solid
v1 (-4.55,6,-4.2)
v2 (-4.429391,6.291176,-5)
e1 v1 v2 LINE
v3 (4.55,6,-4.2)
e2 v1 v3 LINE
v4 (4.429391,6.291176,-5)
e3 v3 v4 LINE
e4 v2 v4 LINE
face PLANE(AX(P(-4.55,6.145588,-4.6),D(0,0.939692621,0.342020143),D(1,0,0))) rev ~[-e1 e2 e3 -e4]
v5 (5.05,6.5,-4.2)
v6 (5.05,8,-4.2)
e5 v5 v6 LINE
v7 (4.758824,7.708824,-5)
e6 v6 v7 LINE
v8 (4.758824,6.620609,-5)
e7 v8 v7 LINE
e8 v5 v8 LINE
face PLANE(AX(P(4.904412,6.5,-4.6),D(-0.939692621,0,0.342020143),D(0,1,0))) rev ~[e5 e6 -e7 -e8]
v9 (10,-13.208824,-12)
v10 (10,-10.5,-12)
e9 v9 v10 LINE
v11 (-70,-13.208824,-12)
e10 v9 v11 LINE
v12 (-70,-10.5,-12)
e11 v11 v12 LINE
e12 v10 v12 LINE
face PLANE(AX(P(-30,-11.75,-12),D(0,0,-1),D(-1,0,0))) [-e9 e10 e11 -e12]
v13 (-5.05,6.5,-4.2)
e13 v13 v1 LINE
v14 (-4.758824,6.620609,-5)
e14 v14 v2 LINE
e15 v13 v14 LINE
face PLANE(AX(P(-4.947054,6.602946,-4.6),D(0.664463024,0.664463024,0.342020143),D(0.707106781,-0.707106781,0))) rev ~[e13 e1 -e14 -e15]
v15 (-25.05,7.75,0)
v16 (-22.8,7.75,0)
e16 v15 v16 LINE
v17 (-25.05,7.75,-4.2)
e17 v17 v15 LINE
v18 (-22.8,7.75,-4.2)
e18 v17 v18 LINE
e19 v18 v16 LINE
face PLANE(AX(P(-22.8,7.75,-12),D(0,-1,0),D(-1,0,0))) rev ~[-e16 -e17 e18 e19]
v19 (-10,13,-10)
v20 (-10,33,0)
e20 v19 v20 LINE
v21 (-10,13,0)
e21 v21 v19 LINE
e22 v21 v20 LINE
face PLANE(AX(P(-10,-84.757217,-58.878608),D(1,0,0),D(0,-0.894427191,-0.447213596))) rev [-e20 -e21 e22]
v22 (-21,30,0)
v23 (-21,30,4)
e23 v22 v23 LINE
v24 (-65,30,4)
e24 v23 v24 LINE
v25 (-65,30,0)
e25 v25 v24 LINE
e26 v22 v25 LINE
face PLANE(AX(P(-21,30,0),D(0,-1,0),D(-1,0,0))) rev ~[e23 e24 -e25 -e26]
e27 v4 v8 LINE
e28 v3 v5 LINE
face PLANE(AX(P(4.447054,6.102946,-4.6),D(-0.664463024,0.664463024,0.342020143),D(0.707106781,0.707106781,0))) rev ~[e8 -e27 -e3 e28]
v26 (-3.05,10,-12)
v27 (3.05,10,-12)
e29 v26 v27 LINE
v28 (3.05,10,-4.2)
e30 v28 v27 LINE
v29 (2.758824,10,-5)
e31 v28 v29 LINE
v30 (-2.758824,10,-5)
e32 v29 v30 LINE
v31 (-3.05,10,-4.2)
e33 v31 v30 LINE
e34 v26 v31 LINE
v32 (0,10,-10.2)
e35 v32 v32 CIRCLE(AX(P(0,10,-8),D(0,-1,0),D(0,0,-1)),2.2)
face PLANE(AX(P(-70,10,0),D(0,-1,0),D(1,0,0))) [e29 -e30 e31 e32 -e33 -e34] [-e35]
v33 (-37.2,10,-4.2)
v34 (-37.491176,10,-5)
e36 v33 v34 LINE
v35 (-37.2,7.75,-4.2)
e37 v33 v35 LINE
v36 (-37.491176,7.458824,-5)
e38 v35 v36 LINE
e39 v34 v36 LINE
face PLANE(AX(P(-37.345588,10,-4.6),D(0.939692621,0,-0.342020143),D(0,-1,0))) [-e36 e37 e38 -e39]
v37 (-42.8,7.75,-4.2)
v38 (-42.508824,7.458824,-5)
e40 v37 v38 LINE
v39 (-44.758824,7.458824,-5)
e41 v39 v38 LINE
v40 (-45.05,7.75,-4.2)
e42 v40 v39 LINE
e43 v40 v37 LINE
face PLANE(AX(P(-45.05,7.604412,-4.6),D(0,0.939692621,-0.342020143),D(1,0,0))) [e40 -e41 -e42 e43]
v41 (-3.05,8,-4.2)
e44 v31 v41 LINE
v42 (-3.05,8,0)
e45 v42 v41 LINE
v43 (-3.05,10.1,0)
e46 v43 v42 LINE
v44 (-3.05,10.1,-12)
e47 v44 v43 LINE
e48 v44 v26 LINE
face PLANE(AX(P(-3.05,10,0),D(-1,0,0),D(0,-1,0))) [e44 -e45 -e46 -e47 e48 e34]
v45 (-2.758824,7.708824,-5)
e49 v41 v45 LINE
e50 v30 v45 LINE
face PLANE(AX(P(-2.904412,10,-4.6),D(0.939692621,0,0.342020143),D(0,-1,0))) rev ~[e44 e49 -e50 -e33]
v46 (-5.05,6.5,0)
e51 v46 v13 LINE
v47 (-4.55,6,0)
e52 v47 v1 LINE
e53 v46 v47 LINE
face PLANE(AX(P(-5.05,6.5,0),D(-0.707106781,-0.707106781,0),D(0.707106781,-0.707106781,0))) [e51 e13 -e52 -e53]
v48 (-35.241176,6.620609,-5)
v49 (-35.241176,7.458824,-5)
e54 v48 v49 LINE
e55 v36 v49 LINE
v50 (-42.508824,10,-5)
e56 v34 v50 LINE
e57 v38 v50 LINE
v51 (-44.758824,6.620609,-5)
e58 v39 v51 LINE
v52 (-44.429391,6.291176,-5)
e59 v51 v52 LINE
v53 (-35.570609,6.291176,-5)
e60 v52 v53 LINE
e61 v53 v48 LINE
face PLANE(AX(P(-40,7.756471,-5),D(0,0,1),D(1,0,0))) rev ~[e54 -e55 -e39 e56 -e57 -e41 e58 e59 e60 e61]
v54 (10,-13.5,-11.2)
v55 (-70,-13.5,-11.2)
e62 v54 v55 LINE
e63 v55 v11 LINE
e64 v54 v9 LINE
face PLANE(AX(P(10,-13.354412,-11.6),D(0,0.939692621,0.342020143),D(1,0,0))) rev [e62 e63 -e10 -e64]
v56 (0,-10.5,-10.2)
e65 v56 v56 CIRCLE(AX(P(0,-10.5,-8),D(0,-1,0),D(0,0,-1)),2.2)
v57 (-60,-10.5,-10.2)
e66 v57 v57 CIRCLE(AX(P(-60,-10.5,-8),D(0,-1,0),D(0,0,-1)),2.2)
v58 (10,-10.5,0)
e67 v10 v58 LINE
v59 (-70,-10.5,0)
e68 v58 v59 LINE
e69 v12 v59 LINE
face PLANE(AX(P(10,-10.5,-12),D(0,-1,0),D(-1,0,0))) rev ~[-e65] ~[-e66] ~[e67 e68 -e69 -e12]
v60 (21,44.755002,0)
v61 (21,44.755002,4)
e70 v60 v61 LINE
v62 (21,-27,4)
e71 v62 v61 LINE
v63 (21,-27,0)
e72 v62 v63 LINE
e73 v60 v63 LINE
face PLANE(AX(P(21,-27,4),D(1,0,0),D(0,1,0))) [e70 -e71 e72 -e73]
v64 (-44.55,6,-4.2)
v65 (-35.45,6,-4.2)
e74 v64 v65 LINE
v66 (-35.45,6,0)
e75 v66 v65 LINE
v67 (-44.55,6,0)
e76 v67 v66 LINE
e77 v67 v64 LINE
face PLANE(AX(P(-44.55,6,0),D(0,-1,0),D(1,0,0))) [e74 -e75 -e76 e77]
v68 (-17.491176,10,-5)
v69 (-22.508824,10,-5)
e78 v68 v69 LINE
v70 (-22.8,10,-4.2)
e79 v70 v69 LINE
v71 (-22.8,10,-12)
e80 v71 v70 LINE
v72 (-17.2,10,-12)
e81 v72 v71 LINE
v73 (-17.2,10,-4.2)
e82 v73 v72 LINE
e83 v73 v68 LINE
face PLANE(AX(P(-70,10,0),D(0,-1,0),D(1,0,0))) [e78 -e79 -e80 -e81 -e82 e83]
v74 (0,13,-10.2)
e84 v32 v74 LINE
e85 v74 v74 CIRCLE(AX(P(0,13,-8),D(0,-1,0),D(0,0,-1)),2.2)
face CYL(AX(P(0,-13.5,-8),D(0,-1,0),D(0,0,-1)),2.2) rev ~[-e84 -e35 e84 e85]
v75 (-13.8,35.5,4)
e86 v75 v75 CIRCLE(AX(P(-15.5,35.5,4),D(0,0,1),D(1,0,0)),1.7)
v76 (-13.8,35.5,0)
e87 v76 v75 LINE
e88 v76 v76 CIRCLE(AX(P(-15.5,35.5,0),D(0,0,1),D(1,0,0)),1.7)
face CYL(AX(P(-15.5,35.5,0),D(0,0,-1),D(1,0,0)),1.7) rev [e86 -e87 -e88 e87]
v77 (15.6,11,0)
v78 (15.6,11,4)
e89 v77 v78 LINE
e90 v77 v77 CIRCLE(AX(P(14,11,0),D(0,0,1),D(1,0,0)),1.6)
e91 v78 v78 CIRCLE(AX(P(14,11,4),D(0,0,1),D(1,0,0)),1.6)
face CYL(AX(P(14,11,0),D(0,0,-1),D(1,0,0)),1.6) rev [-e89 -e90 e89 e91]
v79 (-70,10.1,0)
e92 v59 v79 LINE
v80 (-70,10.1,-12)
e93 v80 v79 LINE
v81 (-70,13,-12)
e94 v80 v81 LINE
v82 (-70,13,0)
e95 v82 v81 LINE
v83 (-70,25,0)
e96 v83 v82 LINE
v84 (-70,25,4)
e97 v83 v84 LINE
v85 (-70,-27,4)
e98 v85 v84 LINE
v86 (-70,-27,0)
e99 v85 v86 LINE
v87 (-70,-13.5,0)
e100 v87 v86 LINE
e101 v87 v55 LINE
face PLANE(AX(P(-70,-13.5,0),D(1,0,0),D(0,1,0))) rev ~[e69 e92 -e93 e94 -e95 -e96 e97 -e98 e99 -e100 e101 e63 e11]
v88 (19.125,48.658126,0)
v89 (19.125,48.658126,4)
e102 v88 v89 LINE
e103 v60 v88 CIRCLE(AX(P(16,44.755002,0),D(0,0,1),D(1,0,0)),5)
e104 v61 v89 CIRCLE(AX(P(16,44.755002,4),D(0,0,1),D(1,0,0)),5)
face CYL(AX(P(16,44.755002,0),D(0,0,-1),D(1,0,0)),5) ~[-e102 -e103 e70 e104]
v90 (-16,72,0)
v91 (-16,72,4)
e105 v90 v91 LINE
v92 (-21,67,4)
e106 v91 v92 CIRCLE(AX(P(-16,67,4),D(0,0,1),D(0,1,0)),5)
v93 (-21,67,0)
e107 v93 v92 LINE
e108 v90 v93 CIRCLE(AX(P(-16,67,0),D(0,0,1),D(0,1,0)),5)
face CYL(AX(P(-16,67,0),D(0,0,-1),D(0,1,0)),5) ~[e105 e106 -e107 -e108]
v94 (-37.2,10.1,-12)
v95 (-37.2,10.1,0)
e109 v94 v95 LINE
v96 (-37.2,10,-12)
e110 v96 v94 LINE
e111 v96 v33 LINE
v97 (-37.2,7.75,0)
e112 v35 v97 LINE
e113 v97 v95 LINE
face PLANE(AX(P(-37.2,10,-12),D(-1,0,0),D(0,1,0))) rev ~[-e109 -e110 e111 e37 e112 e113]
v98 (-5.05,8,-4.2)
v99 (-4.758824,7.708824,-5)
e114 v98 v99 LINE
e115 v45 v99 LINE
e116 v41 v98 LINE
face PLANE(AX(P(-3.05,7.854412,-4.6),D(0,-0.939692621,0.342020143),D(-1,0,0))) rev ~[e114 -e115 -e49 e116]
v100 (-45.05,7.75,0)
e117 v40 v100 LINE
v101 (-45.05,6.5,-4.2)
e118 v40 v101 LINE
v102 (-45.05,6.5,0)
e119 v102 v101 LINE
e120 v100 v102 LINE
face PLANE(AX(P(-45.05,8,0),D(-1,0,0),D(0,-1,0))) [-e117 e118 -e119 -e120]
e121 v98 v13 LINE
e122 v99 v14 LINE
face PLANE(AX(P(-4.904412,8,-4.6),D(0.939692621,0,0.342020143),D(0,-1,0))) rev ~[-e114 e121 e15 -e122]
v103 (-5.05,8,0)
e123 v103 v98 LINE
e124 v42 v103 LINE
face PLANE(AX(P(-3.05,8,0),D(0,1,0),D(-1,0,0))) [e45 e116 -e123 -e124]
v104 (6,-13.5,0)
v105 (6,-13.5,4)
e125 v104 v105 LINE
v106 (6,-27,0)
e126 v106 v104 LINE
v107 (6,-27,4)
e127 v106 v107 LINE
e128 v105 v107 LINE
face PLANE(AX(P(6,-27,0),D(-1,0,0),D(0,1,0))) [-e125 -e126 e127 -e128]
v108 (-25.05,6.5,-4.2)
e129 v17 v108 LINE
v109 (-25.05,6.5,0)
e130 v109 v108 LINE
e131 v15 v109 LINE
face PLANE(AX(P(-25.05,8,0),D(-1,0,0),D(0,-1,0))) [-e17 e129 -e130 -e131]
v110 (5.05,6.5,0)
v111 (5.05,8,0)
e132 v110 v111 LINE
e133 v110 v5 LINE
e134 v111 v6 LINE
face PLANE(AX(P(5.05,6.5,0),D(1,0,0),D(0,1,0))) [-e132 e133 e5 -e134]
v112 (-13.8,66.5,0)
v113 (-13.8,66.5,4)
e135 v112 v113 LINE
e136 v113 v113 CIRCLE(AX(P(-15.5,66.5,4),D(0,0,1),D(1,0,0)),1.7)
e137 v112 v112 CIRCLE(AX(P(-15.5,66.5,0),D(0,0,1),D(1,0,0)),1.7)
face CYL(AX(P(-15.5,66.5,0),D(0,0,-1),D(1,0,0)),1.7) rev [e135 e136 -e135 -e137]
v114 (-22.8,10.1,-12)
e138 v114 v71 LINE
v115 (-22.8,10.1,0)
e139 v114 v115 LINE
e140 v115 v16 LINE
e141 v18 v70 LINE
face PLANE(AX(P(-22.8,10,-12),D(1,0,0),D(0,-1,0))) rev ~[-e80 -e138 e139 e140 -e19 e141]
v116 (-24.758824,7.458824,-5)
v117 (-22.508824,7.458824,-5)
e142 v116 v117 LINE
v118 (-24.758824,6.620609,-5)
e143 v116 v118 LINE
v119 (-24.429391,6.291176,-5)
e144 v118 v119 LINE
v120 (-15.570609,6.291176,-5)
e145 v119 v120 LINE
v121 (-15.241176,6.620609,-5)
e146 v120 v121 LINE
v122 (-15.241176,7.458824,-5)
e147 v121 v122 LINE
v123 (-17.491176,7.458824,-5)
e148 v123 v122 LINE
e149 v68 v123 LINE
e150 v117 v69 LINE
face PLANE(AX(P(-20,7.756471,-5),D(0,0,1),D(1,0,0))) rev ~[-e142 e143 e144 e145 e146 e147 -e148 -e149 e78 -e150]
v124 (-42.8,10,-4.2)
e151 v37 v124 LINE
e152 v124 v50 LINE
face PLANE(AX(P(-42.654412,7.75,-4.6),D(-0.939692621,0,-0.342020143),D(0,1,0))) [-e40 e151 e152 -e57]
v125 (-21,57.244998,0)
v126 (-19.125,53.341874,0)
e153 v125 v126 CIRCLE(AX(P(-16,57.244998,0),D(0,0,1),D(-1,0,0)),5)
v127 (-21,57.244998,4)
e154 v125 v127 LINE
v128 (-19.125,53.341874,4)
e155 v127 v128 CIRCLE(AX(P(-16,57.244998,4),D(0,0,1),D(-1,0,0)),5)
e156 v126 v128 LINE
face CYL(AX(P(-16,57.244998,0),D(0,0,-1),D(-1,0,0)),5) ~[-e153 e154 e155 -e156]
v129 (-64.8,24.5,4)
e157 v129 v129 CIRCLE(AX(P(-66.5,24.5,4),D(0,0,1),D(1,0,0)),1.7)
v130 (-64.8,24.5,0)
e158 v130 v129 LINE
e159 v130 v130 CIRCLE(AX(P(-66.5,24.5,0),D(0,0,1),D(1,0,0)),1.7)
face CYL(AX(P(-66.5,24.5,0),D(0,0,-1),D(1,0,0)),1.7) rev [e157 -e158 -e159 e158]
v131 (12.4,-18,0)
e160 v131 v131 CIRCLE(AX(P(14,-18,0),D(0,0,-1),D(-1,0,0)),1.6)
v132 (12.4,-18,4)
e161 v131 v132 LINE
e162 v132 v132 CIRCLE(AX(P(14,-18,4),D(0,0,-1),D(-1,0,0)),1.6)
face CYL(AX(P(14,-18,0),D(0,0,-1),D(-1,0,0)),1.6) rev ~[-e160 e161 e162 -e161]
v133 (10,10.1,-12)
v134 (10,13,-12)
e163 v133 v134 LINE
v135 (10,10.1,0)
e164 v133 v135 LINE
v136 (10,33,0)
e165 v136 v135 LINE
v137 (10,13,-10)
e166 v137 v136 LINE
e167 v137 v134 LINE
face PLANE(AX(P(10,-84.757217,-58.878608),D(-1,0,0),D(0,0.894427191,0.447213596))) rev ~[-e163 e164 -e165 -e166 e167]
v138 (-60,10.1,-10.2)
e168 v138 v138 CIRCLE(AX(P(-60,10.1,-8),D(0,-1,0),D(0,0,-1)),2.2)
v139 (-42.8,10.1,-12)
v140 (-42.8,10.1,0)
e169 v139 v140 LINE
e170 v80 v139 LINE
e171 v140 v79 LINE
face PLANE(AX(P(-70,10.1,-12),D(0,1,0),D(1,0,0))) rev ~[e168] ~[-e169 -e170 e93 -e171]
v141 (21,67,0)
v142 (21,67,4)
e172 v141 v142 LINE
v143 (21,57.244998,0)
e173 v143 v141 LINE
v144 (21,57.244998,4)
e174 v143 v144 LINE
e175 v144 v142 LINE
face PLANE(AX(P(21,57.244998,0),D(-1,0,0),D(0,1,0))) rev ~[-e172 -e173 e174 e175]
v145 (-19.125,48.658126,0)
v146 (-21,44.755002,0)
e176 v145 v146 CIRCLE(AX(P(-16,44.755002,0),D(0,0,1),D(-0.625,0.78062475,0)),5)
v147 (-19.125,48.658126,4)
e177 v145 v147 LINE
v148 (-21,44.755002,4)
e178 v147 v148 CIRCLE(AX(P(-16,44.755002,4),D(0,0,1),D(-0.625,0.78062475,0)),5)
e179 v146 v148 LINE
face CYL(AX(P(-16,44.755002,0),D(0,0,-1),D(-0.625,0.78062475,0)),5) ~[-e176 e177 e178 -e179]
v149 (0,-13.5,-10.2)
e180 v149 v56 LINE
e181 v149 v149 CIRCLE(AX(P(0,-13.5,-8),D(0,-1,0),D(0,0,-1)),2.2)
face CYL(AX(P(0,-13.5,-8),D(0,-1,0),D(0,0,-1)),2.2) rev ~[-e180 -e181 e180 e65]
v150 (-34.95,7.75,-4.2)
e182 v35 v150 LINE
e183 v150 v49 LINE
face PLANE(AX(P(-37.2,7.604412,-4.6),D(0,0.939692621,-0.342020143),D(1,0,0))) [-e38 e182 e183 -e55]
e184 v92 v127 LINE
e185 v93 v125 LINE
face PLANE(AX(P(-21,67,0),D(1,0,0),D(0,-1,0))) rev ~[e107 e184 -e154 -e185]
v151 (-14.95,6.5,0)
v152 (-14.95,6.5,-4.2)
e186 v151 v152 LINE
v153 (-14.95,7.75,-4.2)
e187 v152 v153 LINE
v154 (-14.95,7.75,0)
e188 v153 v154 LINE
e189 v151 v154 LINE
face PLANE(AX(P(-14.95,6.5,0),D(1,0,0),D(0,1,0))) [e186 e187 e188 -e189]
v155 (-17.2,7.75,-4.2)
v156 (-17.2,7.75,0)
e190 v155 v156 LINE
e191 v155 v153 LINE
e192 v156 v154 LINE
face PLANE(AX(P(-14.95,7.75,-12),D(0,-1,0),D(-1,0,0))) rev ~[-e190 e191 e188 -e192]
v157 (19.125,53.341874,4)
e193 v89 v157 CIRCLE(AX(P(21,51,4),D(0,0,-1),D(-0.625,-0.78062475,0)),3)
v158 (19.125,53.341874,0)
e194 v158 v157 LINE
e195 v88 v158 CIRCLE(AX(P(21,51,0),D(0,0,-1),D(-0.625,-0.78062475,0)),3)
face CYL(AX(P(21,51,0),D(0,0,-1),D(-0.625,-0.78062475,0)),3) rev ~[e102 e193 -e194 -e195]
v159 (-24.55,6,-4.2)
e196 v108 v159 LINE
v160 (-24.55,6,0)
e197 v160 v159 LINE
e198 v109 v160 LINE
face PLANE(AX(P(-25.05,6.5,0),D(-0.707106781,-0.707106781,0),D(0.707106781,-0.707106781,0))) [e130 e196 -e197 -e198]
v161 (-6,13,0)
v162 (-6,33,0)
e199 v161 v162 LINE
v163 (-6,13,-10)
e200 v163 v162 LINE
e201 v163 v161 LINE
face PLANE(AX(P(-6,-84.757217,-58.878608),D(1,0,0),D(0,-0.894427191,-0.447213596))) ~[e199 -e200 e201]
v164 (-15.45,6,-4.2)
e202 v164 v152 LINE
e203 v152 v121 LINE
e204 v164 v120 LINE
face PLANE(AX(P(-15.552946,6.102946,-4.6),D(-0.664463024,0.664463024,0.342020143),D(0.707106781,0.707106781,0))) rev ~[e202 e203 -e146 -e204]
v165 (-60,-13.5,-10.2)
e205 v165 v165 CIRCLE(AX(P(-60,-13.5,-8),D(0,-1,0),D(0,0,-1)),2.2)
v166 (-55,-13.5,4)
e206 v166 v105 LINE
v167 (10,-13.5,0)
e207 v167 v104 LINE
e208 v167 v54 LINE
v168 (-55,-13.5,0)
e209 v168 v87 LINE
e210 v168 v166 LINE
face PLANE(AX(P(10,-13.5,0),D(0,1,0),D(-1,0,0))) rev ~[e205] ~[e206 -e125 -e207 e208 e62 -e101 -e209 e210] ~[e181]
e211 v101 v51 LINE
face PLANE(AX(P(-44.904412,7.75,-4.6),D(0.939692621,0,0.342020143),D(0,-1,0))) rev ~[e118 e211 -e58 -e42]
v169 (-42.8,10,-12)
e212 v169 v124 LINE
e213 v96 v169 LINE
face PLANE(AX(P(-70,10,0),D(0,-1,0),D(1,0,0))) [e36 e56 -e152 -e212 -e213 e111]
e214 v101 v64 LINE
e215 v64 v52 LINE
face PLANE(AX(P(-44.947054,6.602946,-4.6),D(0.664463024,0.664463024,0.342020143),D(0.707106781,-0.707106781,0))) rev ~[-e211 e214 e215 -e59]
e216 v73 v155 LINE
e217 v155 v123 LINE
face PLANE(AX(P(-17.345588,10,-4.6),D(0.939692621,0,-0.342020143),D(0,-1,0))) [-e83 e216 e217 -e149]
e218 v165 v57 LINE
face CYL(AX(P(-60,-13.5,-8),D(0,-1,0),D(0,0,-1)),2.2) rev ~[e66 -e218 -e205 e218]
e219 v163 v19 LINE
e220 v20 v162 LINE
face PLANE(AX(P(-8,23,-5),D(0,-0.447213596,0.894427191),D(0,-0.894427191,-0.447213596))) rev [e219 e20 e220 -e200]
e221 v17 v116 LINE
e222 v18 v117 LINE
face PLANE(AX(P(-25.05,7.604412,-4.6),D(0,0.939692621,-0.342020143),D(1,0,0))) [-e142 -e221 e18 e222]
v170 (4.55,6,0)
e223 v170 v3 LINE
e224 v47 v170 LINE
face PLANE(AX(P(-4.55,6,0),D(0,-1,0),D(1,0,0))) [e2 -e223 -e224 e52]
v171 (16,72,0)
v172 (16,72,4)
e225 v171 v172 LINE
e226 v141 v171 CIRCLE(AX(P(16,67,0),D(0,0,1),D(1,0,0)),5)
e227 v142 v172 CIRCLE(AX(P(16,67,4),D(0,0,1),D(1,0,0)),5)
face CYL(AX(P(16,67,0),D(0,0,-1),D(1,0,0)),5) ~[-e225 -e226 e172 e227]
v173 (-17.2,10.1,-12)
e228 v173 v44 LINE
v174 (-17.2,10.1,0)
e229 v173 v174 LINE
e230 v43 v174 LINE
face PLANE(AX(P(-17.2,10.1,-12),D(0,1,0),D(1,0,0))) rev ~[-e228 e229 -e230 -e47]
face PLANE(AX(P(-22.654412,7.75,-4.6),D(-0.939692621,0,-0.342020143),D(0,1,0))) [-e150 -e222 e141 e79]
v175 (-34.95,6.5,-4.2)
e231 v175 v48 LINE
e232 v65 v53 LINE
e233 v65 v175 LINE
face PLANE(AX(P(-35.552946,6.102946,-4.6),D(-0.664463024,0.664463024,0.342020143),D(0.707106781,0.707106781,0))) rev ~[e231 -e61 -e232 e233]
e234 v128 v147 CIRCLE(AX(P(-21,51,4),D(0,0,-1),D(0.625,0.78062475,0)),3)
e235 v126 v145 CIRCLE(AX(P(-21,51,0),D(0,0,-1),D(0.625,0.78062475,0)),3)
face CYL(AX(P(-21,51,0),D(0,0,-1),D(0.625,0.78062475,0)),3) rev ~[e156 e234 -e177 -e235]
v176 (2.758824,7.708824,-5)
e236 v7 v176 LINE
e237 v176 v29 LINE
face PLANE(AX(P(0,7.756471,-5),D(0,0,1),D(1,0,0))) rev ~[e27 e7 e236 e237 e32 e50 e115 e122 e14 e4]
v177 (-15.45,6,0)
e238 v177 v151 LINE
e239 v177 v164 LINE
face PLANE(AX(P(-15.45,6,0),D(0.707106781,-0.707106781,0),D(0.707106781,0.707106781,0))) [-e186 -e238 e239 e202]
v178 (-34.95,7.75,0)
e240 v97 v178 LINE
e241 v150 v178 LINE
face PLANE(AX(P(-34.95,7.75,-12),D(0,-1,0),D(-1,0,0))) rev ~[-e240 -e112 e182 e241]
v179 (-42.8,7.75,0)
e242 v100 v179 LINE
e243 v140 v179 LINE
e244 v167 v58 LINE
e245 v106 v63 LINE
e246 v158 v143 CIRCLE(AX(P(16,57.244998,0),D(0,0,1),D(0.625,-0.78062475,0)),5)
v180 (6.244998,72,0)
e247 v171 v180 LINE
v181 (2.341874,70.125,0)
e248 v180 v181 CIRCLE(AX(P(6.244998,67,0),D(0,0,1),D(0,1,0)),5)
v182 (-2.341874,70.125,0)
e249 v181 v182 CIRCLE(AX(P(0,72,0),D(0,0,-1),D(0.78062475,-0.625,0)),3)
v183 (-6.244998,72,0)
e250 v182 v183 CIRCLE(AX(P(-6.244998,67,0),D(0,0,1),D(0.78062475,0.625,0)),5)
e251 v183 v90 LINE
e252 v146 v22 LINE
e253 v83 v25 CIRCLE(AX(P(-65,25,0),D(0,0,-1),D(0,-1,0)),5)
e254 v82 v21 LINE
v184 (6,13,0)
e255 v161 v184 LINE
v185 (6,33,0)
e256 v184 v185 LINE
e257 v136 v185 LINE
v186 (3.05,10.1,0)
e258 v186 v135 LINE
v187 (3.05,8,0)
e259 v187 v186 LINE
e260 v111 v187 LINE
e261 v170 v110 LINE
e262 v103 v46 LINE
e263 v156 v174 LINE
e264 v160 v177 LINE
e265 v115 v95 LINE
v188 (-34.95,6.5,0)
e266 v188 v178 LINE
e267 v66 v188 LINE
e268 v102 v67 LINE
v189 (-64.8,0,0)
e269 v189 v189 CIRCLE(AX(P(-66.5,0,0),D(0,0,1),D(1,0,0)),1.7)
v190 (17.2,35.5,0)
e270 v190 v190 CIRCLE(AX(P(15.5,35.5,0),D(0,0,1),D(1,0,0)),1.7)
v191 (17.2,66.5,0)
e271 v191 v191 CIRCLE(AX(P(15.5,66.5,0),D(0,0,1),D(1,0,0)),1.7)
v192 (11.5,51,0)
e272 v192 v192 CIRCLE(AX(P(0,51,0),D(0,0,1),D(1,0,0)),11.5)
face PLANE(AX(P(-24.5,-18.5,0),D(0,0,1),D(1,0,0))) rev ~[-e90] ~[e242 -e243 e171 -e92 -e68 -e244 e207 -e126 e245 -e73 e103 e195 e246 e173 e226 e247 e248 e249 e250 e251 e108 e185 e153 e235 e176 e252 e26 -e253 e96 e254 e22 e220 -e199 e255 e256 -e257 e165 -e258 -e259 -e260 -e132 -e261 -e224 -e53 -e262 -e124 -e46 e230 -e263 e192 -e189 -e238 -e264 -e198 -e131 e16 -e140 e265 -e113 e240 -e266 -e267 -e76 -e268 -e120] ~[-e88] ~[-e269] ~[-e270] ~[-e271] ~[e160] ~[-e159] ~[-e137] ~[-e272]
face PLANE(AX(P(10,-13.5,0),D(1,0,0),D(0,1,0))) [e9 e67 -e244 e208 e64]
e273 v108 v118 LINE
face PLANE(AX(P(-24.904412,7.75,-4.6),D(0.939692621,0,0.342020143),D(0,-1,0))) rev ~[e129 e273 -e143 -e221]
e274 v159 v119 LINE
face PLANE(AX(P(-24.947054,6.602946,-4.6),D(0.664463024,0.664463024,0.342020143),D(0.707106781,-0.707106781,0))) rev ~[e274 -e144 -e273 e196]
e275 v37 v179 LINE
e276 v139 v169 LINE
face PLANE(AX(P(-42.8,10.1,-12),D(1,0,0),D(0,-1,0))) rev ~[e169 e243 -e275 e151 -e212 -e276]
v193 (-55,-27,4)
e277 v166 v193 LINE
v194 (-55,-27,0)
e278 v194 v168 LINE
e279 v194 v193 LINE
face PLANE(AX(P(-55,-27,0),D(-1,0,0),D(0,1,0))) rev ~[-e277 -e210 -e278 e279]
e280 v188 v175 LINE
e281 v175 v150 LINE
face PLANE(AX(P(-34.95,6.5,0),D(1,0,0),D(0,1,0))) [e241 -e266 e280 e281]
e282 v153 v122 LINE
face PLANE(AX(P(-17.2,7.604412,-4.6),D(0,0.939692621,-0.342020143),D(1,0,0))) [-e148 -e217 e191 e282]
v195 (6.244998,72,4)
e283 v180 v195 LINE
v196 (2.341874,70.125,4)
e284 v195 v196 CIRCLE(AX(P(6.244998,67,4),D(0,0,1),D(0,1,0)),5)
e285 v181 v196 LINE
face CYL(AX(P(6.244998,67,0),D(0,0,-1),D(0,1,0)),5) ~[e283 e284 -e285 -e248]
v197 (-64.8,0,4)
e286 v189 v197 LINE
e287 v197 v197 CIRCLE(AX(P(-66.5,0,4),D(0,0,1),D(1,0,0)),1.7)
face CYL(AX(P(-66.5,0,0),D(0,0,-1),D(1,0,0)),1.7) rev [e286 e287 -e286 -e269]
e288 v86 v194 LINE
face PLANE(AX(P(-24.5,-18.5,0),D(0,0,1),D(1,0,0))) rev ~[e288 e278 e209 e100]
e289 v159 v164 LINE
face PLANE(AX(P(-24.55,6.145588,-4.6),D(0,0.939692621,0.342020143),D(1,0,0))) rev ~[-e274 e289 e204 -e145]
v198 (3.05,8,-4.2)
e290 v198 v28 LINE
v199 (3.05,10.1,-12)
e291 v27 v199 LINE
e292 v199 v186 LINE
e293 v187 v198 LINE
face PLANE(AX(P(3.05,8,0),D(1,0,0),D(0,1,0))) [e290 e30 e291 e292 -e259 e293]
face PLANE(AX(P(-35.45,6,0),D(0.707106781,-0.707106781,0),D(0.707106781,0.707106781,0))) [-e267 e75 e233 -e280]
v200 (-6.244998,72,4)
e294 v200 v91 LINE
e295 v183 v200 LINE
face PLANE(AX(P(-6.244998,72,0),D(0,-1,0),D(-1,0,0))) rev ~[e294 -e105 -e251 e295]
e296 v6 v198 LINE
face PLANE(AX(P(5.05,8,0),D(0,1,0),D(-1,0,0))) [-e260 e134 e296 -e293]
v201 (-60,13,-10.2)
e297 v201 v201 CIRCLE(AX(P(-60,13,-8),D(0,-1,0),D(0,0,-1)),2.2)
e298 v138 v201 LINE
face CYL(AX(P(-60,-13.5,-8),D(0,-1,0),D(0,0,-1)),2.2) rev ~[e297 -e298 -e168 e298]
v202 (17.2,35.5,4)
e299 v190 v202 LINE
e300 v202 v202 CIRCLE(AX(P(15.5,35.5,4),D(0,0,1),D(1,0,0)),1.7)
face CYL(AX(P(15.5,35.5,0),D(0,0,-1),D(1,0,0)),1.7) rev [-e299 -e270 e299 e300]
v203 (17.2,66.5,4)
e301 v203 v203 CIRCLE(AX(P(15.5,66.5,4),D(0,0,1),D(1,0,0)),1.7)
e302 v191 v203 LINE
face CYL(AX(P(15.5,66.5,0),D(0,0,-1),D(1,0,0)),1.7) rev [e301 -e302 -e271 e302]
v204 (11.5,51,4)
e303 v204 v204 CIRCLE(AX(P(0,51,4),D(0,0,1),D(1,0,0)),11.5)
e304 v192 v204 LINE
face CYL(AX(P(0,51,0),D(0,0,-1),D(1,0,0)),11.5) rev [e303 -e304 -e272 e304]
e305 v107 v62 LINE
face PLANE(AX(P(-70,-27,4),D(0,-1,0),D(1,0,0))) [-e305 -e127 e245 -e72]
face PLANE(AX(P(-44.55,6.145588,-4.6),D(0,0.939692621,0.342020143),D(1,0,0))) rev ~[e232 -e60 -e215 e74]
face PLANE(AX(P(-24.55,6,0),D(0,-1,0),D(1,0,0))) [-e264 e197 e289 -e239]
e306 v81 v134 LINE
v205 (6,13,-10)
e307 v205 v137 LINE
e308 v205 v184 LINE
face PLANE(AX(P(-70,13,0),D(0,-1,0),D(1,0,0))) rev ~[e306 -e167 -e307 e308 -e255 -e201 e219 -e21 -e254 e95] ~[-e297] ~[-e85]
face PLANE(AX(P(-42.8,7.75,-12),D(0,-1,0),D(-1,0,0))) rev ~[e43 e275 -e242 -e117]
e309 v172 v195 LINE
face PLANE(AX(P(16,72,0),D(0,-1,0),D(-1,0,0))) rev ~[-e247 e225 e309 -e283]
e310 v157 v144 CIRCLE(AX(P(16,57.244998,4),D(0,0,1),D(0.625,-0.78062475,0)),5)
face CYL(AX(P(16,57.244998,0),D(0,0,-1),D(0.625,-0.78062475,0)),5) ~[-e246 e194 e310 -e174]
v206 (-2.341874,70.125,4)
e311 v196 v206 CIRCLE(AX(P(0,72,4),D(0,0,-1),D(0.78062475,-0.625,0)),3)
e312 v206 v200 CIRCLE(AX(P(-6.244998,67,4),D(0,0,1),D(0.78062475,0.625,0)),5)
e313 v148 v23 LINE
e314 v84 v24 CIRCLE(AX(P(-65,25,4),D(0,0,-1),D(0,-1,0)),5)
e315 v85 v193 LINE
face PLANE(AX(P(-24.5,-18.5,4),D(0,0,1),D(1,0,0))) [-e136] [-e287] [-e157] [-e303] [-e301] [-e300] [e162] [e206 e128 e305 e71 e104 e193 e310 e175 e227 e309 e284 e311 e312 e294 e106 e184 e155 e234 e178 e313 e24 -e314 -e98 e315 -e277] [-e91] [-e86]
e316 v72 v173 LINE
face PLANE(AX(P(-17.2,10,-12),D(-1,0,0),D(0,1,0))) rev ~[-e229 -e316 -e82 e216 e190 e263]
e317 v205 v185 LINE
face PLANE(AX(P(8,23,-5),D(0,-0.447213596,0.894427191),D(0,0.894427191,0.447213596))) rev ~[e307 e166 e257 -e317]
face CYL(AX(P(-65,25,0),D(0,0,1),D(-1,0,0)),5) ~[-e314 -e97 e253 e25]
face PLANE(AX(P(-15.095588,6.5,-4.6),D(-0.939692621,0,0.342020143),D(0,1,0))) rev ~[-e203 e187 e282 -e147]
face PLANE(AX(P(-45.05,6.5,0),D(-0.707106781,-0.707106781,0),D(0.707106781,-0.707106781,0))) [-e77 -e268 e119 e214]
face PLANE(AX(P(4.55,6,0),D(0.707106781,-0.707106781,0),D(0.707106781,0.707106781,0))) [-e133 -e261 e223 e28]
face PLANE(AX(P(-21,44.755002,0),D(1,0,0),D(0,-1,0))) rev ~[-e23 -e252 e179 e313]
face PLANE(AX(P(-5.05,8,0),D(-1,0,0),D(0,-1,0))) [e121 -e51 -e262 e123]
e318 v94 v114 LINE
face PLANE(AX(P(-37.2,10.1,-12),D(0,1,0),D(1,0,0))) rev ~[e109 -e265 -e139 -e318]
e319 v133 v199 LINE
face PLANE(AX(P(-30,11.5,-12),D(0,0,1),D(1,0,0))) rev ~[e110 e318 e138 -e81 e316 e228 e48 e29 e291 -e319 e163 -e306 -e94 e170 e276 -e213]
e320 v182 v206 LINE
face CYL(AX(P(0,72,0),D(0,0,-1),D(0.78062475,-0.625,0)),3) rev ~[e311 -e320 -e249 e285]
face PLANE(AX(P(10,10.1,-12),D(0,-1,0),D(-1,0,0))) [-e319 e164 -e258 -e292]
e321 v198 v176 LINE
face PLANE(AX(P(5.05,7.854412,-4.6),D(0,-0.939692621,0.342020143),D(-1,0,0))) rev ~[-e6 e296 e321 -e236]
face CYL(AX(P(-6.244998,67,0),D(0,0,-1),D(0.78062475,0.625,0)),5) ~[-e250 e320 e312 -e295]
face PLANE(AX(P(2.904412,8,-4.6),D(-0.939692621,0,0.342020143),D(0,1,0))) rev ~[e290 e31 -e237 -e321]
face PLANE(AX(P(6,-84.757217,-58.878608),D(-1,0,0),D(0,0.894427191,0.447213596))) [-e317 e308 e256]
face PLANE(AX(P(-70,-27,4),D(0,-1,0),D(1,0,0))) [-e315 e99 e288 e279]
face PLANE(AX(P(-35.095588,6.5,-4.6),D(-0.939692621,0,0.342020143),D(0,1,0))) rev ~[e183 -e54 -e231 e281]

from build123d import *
from OCP.BRepFilletAPI import BRepFilletAPI_MakeChamfer

# Parameters (mm, degrees)
SKETCH_1_R          = 1.7
SKETCH_1_R_2        = 1.6
SKETCH_1_R_3        = 11.5
EXTRUDE_1_DEPTH     = 4
SKETCH_1_4_W        = 80
SKETCH_1_4_H        = 3
EXTRUDE_2_DEPTH     = 12
EXTRUDE_3_DEPTH     = 5
RIB_2_REACH         = 110.296
SKETCH_4_WALL_W     = 240.952461706
SKETCH_4_WALL_H     = 4
CUT_EXTRUDE_5_REACH = 103.686
SKETCH_5_W          = 6.95
SKETCH_5_H          = 0.1
CHAMFER_3_SIZE      = 0.8
CHAMFER_3_SIZE2     = 0.291176187
SKETCH_6_W          = 91
SKETCH_6_H          = 17
EXTRUDE_4_DEPTH     = 4
SKETCH_7_W          = 80
SKETCH_7_H          = 3.5
EXTRUDE_5_DEPTH     = 12
SKETCH_8_R          = 1.6
SKETCH_8_W          = 61
SKETCH_8_H          = 13.5
CUT_EXTRUDE_3_DEPTH = 102.133575038
CUT_EXTRUDE_4_DEPTH = 12
CHAMFER_2_SIZE      = 0.8
CHAMFER_2_SIZE2     = 0.291176187
SKETCH_10_R         = 2.2
CUT_EXTRUDE_6_DEPTH = 112.149673864
FILLET_1_R          = 5


with BuildPart() as part:
    # 草图1 → 凸台-拉伸1 (new body)
    with BuildSketch(Plane.XY):
        with BuildLine():
            Line((-70, -10), (21, -10))
            Line((21, -10), (21, 44.755002002))
            ThreePointArc((21, 44.755002002), (20.506939094, 46.920065511), (19.125, 48.658125751))
            ThreePointArc((19.125, 48.658125751), (18, 51), (19.125, 53.341874249))
            ThreePointArc((19.125, 53.341874249), (20.506939094, 55.079934489), (21, 57.244997998))
            Line((21, 57.244997998), (21, 67))
            ThreePointArc((21, 67), (19.535533906, 70.535533906), (16, 72))
            Line((16, 72), (6.244997998, 72))
            ThreePointArc((6.244997998, 72), (4.079934489, 71.506939094), (2.341874249, 70.125))
            ThreePointArc((2.341874249, 70.125), (0, 69), (-2.341874249, 70.125))
            ThreePointArc((-2.341874249, 70.125), (-4.079934489, 71.506939094), (-6.244997998, 72))
            Line((-6.244997998, 72), (-16, 72))
            ThreePointArc((-16, 72), (-19.535533906, 70.535533906), (-21, 67))
            Line((-21, 67), (-21, 57.244997998))
            ThreePointArc((-21, 57.244997998), (-20.506939094, 55.079934489), (-19.125, 53.341874249))
            ThreePointArc((-19.125, 53.341874249), (-18, 51), (-19.125, 48.658125751))
            ThreePointArc((-19.125, 48.658125751), (-20.506939094, 46.920065511), (-21, 44.755002002))
            Line((-21, 44.755002002), (-21, 30))
            Line((-21, 30), (-70, 30))
            Line((-70, 30), (-70, -10))
        make_face()
        with Locations((-66.5, 0)):
            Circle(SKETCH_1_R, mode=Mode.SUBTRACT)
        with Locations((-66.5, 24.5)):
            Circle(SKETCH_1_R, mode=Mode.SUBTRACT)
        with Locations((14, 11)):
            Circle(SKETCH_1_R_2, mode=Mode.SUBTRACT)
        with Locations((-15.5, 35.5)):
            Circle(SKETCH_1_R, mode=Mode.SUBTRACT)
        with Locations((15.5, 35.5)):
            Circle(SKETCH_1_R, mode=Mode.SUBTRACT)
        with Locations((-15.5, 66.5)):
            Circle(SKETCH_1_R, mode=Mode.SUBTRACT)
        with Locations((0, 51)):
            Circle(SKETCH_1_R_3, mode=Mode.SUBTRACT)
        with Locations((15.5, 66.5)):
            Circle(SKETCH_1_R, mode=Mode.SUBTRACT)
    extrude(amount=EXTRUDE_1_DEPTH)

    # 草图1<4> → 凸台-拉伸2 (add)
    with BuildSketch(Plane.XY):
        with Locations((-30, 11.5)):
            Rectangle(SKETCH_1_4_W, SKETCH_1_4_H)
    extrude(amount=-EXTRUDE_2_DEPTH)

    # 草图1<5> → 凸台-拉伸3 (add)
    with BuildSketch(Plane.XY):
        Polygon((3.05, 8), (3.05, 10), (-3.05, 10), (-3.05, 8), (-5.05, 8), (-5.05, 6.5), (-4.55, 6), (4.55, 6), (5.05, 6.5), (5.05, 8), align=None)
        Polygon((-16.95, 10), (-23.05, 10), (-23.05, 8), (-25.05, 8), (-25.05, 6.5), (-24.55, 6), (-15.45, 6), (-14.95, 6.5), (-14.95, 8), (-16.95, 8), align=None)
        Polygon((-36.95, 10), (-43.05, 10), (-43.05, 8), (-45.05, 8), (-45.05, 6.5), (-44.55, 6), (-35.45, 6), (-34.95, 6.5), (-34.95, 8), (-36.95, 8), align=None)
        Polygon((-26, 4.55), (-26, -4.55), (-26.5, -5.05), (-28, -5.05), (-28, -3.05), (-32, -3.05), (-32, -5.05), (-33.5, -5.05), (-34, -4.55), (-34, 4.55), (-33.5, 5.05), (-32, 5.05), (-32, 3.05), (-28, 3.05), (-28, 5.05), (-26.5, 5.05), align=None)
        Polygon((-23.05, -8), (-23.05, -10), (-16.95, -10), (-16.95, -8), (-14.95, -8), (-14.95, -6.5), (-15.45, -6), (-24.55, -6), (-25.05, -6.5), (-25.05, -8), align=None)
        Polygon((-43.05, -8), (-43.05, -10), (-36.95, -10), (-36.95, -8), (-34.95, -8), (-34.95, -6.5), (-35.45, -6), (-44.55, -6), (-45.05, -6.5), (-45.05, -8), align=None)
    extrude(amount=-EXTRUDE_3_DEPTH)

    # 草图4 wall → 筋2 (add, up to next)
    with BuildSketch(Plane(origin=(10, 23, -5), x_dir=(0, 0.894427191, 0.4472135955), z_dir=(0, -0.4472135955, 0.894427191)), mode=Mode.PRIVATE) as rib_2_sk1:
        with Locations((0, 2)):
            Rectangle(SKETCH_4_WALL_W, SKETCH_4_WALL_H)
    rib_2_tool1 = extrude(rib_2_sk1.sketch, amount=RIB_2_REACH, mode=Mode.PRIVATE) - part.part
    rib_2 = rib_2_tool1.solids().sort_by_distance((10, 23, -5))[0]
    add(rib_2)

    # 镜向1: 筋2 across plane
    add(rib_2.mirror(Plane(origin=(0, 0, 0), x_dir=(0, 0, 1), z_dir=(1, 0, 0))))

    # 切除-拉伸5: up to this face of the body (flat: up to its plane)
    cut_extrude_5_end = Plane(part.part.faces().sort_by_distance((-17.713713812, 21.851646417, 0))[0])
    # 草图5 → 切除-拉伸5 (cut, up to the picked face)
    with BuildSketch(Plane(origin=(0, 0, -12), x_dir=(-1, 0, 0), z_dir=(0, 0, -1)), mode=Mode.PRIVATE) as cut_extrude_5_sk1:
        with Locations((-6.525, 10.05)):
            Rectangle(SKETCH_5_W, SKETCH_5_H)
    cut_extrude_5_tool1 = split(extrude(cut_extrude_5_sk1.sketch, amount=-CUT_EXTRUDE_5_REACH, mode=Mode.PRIVATE), bisect_by=cut_extrude_5_end, keep=Keep.BOTH, mode=Mode.PRIVATE)
    # 草图5 → 切除-拉伸5 (cut, up to the picked face)
    with BuildSketch(Plane(origin=(0, 0, -12), x_dir=(-1, 0, 0), z_dir=(0, 0, -1)), mode=Mode.PRIVATE) as cut_extrude_5_sk2:
        Polygon((16.95, 10), (17.2, 10), (17.2, 10.1), (3.05, 10.1), (3.05, 10), align=None)
    cut_extrude_5_tool2 = split(extrude(cut_extrude_5_sk2.sketch, amount=-CUT_EXTRUDE_5_REACH, mode=Mode.PRIVATE), bisect_by=cut_extrude_5_end, keep=Keep.BOTH, mode=Mode.PRIVATE)
    # 草图5 → 切除-拉伸5 (cut, up to the picked face)
    with BuildSketch(Plane(origin=(0, 0, -12), x_dir=(-1, 0, 0), z_dir=(0, 0, -1)), mode=Mode.PRIVATE) as cut_extrude_5_sk3:
        Polygon((17.2, 7.75), (17.2, 10), (16.95, 10), (16.95, 8), (14.95, 8), (14.95, 7.75), align=None)
    cut_extrude_5_tool3 = split(extrude(cut_extrude_5_sk3.sketch, amount=-CUT_EXTRUDE_5_REACH, mode=Mode.PRIVATE), bisect_by=cut_extrude_5_end, keep=Keep.BOTH, mode=Mode.PRIVATE)
    # 草图5 → 切除-拉伸5 (cut, up to the picked face)
    with BuildSketch(Plane(origin=(0, 0, -12), x_dir=(-1, 0, 0), z_dir=(0, 0, -1)), mode=Mode.PRIVATE) as cut_extrude_5_sk4:
        Polygon((23.05, 8), (23.05, 10), (22.8, 10), (22.8, 7.75), (25.05, 7.75), (25.05, 8), align=None)
    cut_extrude_5_tool4 = split(extrude(cut_extrude_5_sk4.sketch, amount=-CUT_EXTRUDE_5_REACH, mode=Mode.PRIVATE), bisect_by=cut_extrude_5_end, keep=Keep.BOTH, mode=Mode.PRIVATE)
    # 草图5 → 切除-拉伸5 (cut, up to the picked face)
    with BuildSketch(Plane(origin=(0, 0, -12), x_dir=(-1, 0, 0), z_dir=(0, 0, -1)), mode=Mode.PRIVATE) as cut_extrude_5_sk5:
        Polygon((22.8, 10), (23.05, 10), (36.95, 10), (37.2, 10), (37.2, 10.1), (22.8, 10.1), align=None)
    cut_extrude_5_tool5 = split(extrude(cut_extrude_5_sk5.sketch, amount=-CUT_EXTRUDE_5_REACH, mode=Mode.PRIVATE), bisect_by=cut_extrude_5_end, keep=Keep.BOTH, mode=Mode.PRIVATE)
    # 草图5 → 切除-拉伸5 (cut, up to the picked face)
    with BuildSketch(Plane(origin=(0, 0, -12), x_dir=(-1, 0, 0), z_dir=(0, 0, -1)), mode=Mode.PRIVATE) as cut_extrude_5_sk6:
        Polygon((42.8, 10.1), (42.8, 10), (43.05, 10), (70, 10), (70, 10.1), align=None)
    cut_extrude_5_tool6 = split(extrude(cut_extrude_5_sk6.sketch, amount=-CUT_EXTRUDE_5_REACH, mode=Mode.PRIVATE), bisect_by=cut_extrude_5_end, keep=Keep.BOTH, mode=Mode.PRIVATE)
    # 草图5 → 切除-拉伸5 (cut, up to the picked face)
    with BuildSketch(Plane(origin=(0, 0, -12), x_dir=(-1, 0, 0), z_dir=(0, 0, -1)), mode=Mode.PRIVATE) as cut_extrude_5_sk7:
        Polygon((43.05, 10), (42.8, 10), (42.8, 7.75), (45.05, 7.75), (45.05, 8), (43.05, 8), align=None)
    cut_extrude_5_tool7 = split(extrude(cut_extrude_5_sk7.sketch, amount=-CUT_EXTRUDE_5_REACH, mode=Mode.PRIVATE), bisect_by=cut_extrude_5_end, keep=Keep.BOTH, mode=Mode.PRIVATE)
    # 草图5 → 切除-拉伸5 (cut, up to the picked face)
    with BuildSketch(Plane(origin=(0, 0, -12), x_dir=(-1, 0, 0), z_dir=(0, 0, -1)), mode=Mode.PRIVATE) as cut_extrude_5_sk8:
        Polygon((37.2, 10), (36.95, 10), (36.95, 8), (34.95, 8), (34.95, 7.75), (37.2, 7.75), align=None)
    cut_extrude_5_tool8 = split(extrude(cut_extrude_5_sk8.sketch, amount=-CUT_EXTRUDE_5_REACH, mode=Mode.PRIVATE), bisect_by=cut_extrude_5_end, keep=Keep.BOTH, mode=Mode.PRIVATE)
    add(cut_extrude_5_tool1.solids().sort_by(Axis((6.525, 10.05, -12), (0, 0, 1)))[0], mode=Mode.SUBTRACT)
    add(cut_extrude_5_tool2.solids().sort_by(Axis((-10.125, 10.05, -12), (0, 0, 1)))[0], mode=Mode.SUBTRACT)
    add(cut_extrude_5_tool3.solids().sort_by(Axis((-17.16818, 8.875, -12), (0, 0, 1)))[0], mode=Mode.SUBTRACT)
    add(cut_extrude_5_tool4.solids().sort_by(Axis((-23.01818, 9, -12), (0, 0, 1)))[0], mode=Mode.SUBTRACT)
    add(cut_extrude_5_tool5.solids().sort_by(Axis((-30, 10.05, -12), (0, 0, 1)))[0], mode=Mode.SUBTRACT)
    add(cut_extrude_5_tool6.solids().sort_by(Axis((-56.4, 10.05, -12), (0, 0, 1)))[0], mode=Mode.SUBTRACT)
    add(cut_extrude_5_tool7.solids().sort_by(Axis((-42.925, 9.96818, -12), (0, 0, 1)))[0], mode=Mode.SUBTRACT)
    add(cut_extrude_5_tool8.solids().sort_by(Axis((-37.075, 9.96818, -12), (0, 0, 1)))[0], mode=Mode.SUBTRACT)

    # 倒角3: one chamfer whose edges measure the first distance from different faces: ONE call of the kernel's chamfer builder (chamfer() names one face for all edges)
    chamfer_3_edges_1 = [part.edges().sort_by_distance(p)[0] for p in [
        (0, 6, -5),
    ]]
    chamfer_3_side_1 = [part.faces().sort_by_distance(p)[0] for p in [
        (0, 6, -2.5),
    ]]
    chamfer_3_edges_2 = [part.edges().sort_by_distance(p)[0] for p in [
        (-4.8, 6.25, -5),
    ]]
    chamfer_3_side_2 = [part.faces().sort_by_distance(p)[0] for p in [
        (-4.8, 6.25, -2.5),
    ]]
    chamfer_3_edges_3 = [part.edges().sort_by_distance(p)[0] for p in [
        (-5.05, 7.25, -5),
    ]]
    chamfer_3_side_3 = [part.faces().sort_by_distance(p)[0] for p in [
        (-5.05, 7.25, -2.5),
    ]]
    chamfer_3_edges_4 = [part.edges().sort_by_distance(p)[0] for p in [
        (-4.05, 8, -5),
    ]]
    chamfer_3_side_4 = [part.faces().sort_by_distance(p)[0] for p in [
        (-4.05, 8, -2.5),
    ]]
    chamfer_3_edges_5 = [part.edges().sort_by_distance(p)[0] for p in [
        (-3.05, 9, -5),
    ]]
    chamfer_3_side_5 = [part.faces().sort_by_distance(p)[0] for p in [
        (-3.05, 9.1125, -2.875),
    ]]
    chamfer_3_edges_6 = [part.edges().sort_by_distance(p)[0] for p in [
        (4.05, 8, -5),
    ]]
    chamfer_3_side_6 = [part.faces().sort_by_distance(p)[0] for p in [
        (4.05, 8, -2.5),
    ]]
    chamfer_3_edges_7 = [part.edges().sort_by_distance(p)[0] for p in [
        (5.05, 7.25, -5),
    ]]
    chamfer_3_side_7 = [part.faces().sort_by_distance(p)[0] for p in [
        (5.05, 7.25, -2.5),
    ]]
    chamfer_3_edges_8 = [part.edges().sort_by_distance(p)[0] for p in [
        (4.8, 6.25, -5),
    ]]
    chamfer_3_side_8 = [part.faces().sort_by_distance(p)[0] for p in [
        (4.8, 6.25, -2.5),
    ]]
    chamfer_3_edges_9 = [part.edges().sort_by_distance(p)[0] for p in [
        (3.05, 9, -5),
    ]]
    chamfer_3_side_9 = [part.faces().sort_by_distance(p)[0] for p in [
        (3.05, 9.1125, -2.875),
    ]]
    chamfer_3_edges_10 = [part.edges().sort_by_distance(p)[0] for p in [
        (-20, 6, -5),
    ]]
    chamfer_3_side_10 = [part.faces().sort_by_distance(p)[0] for p in [
        (-20, 6, -2.5),
    ]]
    chamfer_3_edges_11 = [part.edges().sort_by_distance(p)[0] for p in [
        (-24.8, 6.25, -5),
    ]]
    chamfer_3_side_11 = [part.faces().sort_by_distance(p)[0] for p in [
        (-24.8, 6.25, -2.5),
    ]]
    chamfer_3_edges_12 = [part.edges().sort_by_distance(p)[0] for p in [
        (-15.2, 6.25, -5),
    ]]
    chamfer_3_side_12 = [part.faces().sort_by_distance(p)[0] for p in [
        (-15.2, 6.25, -2.5),
    ]]
    chamfer_3_edges_13 = [part.edges().sort_by_distance(p)[0] for p in [
        (-40, 6, -5),
    ]]
    chamfer_3_side_13 = [part.faces().sort_by_distance(p)[0] for p in [
        (-40, 6, -2.5),
    ]]
    chamfer_3_edges_14 = [part.edges().sort_by_distance(p)[0] for p in [
        (-44.8, 6.25, -5),
    ]]
    chamfer_3_side_14 = [part.faces().sort_by_distance(p)[0] for p in [
        (-44.8, 6.25, -2.5),
    ]]
    chamfer_3_edges_15 = [part.edges().sort_by_distance(p)[0] for p in [
        (-35.2, 6.25, -5),
    ]]
    chamfer_3_side_15 = [part.faces().sort_by_distance(p)[0] for p in [
        (-35.2, 6.25, -2.5),
    ]]
    chamfer_3_edges_16 = [part.edges().sort_by_distance(p)[0] for p in [
        (-14.95, 7.125, -5),
    ]]
    chamfer_3_side_16 = [part.faces().sort_by_distance(p)[0] for p in [
        (-14.95, 7.125, -2.5),
    ]]
    chamfer_3_edges_17 = [part.edges().sort_by_distance(p)[0] for p in [
        (-17.2, 8.875, -5),
    ]]
    chamfer_3_side_17 = [part.faces().sort_by_distance(p)[0] for p in [
        (-17.2, 8.988253012, -2.837349398),
    ]]
    chamfer_3_edges_18 = [part.edges().sort_by_distance(p)[0] for p in [
        (-16.075, 7.75, -5),
    ]]
    chamfer_3_side_18 = [part.faces().sort_by_distance(p)[0] for p in [
        (-16.075, 7.75, -2.5),
    ]]
    chamfer_3_edges_19 = [part.edges().sort_by_distance(p)[0] for p in [
        (-45.05, 7.125, -5),
    ]]
    chamfer_3_side_19 = [part.faces().sort_by_distance(p)[0] for p in [
        (-45.05, 7.125, -2.5),
    ]]
    chamfer_3_edges_20 = [part.edges().sort_by_distance(p)[0] for p in [
        (-42.8, 8.875, -5),
    ]]
    chamfer_3_side_20 = [part.faces().sort_by_distance(p)[0] for p in [
        (-42.8, 8.988253012, -2.837349398),
    ]]
    chamfer_3_edges_21 = [part.edges().sort_by_distance(p)[0] for p in [
        (-43.925, 7.75, -5),
    ]]
    chamfer_3_side_21 = [part.faces().sort_by_distance(p)[0] for p in [
        (-43.925, 7.75, -2.5),
    ]]
    chamfer_3_edges_22 = [part.edges().sort_by_distance(p)[0] for p in [
        (-34.95, 7.125, -5),
    ]]
    chamfer_3_side_22 = [part.faces().sort_by_distance(p)[0] for p in [
        (-34.95, 7.125, -2.5),
    ]]
    chamfer_3_edges_23 = [part.edges().sort_by_distance(p)[0] for p in [
        (-25.05, 7.125, -5),
    ]]
    chamfer_3_side_23 = [part.faces().sort_by_distance(p)[0] for p in [
        (-25.05, 7.125, -2.5),
    ]]
    chamfer_3_edges_24 = [part.edges().sort_by_distance(p)[0] for p in [
        (-23.925, 7.75, -5),
    ]]
    chamfer_3_side_24 = [part.faces().sort_by_distance(p)[0] for p in [
        (-23.925, 7.75, -2.5),
    ]]
    chamfer_3_edges_25 = [part.edges().sort_by_distance(p)[0] for p in [
        (-22.8, 8.875, -5),
    ]]
    chamfer_3_side_25 = [part.faces().sort_by_distance(p)[0] for p in [
        (-22.8, 8.988253012, -2.837349398),
    ]]
    chamfer_3_edges_26 = [part.edges().sort_by_distance(p)[0] for p in [
        (-37.2, 8.875, -5),
    ]]
    chamfer_3_side_26 = [part.faces().sort_by_distance(p)[0] for p in [
        (-37.2, 8.988253012, -2.837349398),
    ]]
    chamfer_3_edges_27 = [part.edges().sort_by_distance(p)[0] for p in [
        (-36.075, 7.75, -5),
    ]]
    chamfer_3_side_27 = [part.faces().sort_by_distance(p)[0] for p in [
        (-36.075, 7.75, -2.5),
    ]]
    chamfer_3 = BRepFilletAPI_MakeChamfer(part.part.solid().wrapped)
    for e in chamfer_3_edges_1:
        chamfer_3.Add(CHAMFER_3_SIZE, CHAMFER_3_SIZE2, e.wrapped, chamfer_3_side_1[0].wrapped)  # the first distance lies on this face
    for e in chamfer_3_edges_2:
        chamfer_3.Add(CHAMFER_3_SIZE, CHAMFER_3_SIZE2, e.wrapped, chamfer_3_side_2[0].wrapped)  # the first distance lies on this face
    for e in chamfer_3_edges_3:
        chamfer_3.Add(CHAMFER_3_SIZE, CHAMFER_3_SIZE2, e.wrapped, chamfer_3_side_3[0].wrapped)  # the first distance lies on this face
    for e in chamfer_3_edges_4:
        chamfer_3.Add(CHAMFER_3_SIZE, CHAMFER_3_SIZE2, e.wrapped, chamfer_3_side_4[0].wrapped)  # the first distance lies on this face
    for e in chamfer_3_edges_5:
        chamfer_3.Add(CHAMFER_3_SIZE, CHAMFER_3_SIZE2, e.wrapped, chamfer_3_side_5[0].wrapped)  # the first distance lies on this face
    for e in chamfer_3_edges_6:
        chamfer_3.Add(CHAMFER_3_SIZE, CHAMFER_3_SIZE2, e.wrapped, chamfer_3_side_6[0].wrapped)  # the first distance lies on this face
    for e in chamfer_3_edges_7:
        chamfer_3.Add(CHAMFER_3_SIZE, CHAMFER_3_SIZE2, e.wrapped, chamfer_3_side_7[0].wrapped)  # the first distance lies on this face
    for e in chamfer_3_edges_8:
        chamfer_3.Add(CHAMFER_3_SIZE, CHAMFER_3_SIZE2, e.wrapped, chamfer_3_side_8[0].wrapped)  # the first distance lies on this face
    for e in chamfer_3_edges_9:
        chamfer_3.Add(CHAMFER_3_SIZE, CHAMFER_3_SIZE2, e.wrapped, chamfer_3_side_9[0].wrapped)  # the first distance lies on this face
    for e in chamfer_3_edges_10:
        chamfer_3.Add(CHAMFER_3_SIZE, CHAMFER_3_SIZE2, e.wrapped, chamfer_3_side_10[0].wrapped)  # the first distance lies on this face
    for e in chamfer_3_edges_11:
        chamfer_3.Add(CHAMFER_3_SIZE, CHAMFER_3_SIZE2, e.wrapped, chamfer_3_side_11[0].wrapped)  # the first distance lies on this face
    for e in chamfer_3_edges_12:
        chamfer_3.Add(CHAMFER_3_SIZE, CHAMFER_3_SIZE2, e.wrapped, chamfer_3_side_12[0].wrapped)  # the first distance lies on this face
    for e in chamfer_3_edges_13:
        chamfer_3.Add(CHAMFER_3_SIZE, CHAMFER_3_SIZE2, e.wrapped, chamfer_3_side_13[0].wrapped)  # the first distance lies on this face
    for e in chamfer_3_edges_14:
        chamfer_3.Add(CHAMFER_3_SIZE, CHAMFER_3_SIZE2, e.wrapped, chamfer_3_side_14[0].wrapped)  # the first distance lies on this face
    for e in chamfer_3_edges_15:
        chamfer_3.Add(CHAMFER_3_SIZE, CHAMFER_3_SIZE2, e.wrapped, chamfer_3_side_15[0].wrapped)  # the first distance lies on this face
    for e in chamfer_3_edges_16:
        chamfer_3.Add(CHAMFER_3_SIZE, CHAMFER_3_SIZE2, e.wrapped, chamfer_3_side_16[0].wrapped)  # the first distance lies on this face
    for e in chamfer_3_edges_17:
        chamfer_3.Add(CHAMFER_3_SIZE, CHAMFER_3_SIZE2, e.wrapped, chamfer_3_side_17[0].wrapped)  # the first distance lies on this face
    for e in chamfer_3_edges_18:
        chamfer_3.Add(CHAMFER_3_SIZE, CHAMFER_3_SIZE2, e.wrapped, chamfer_3_side_18[0].wrapped)  # the first distance lies on this face
    for e in chamfer_3_edges_19:
        chamfer_3.Add(CHAMFER_3_SIZE, CHAMFER_3_SIZE2, e.wrapped, chamfer_3_side_19[0].wrapped)  # the first distance lies on this face
    for e in chamfer_3_edges_20:
        chamfer_3.Add(CHAMFER_3_SIZE, CHAMFER_3_SIZE2, e.wrapped, chamfer_3_side_20[0].wrapped)  # the first distance lies on this face
    for e in chamfer_3_edges_21:
        chamfer_3.Add(CHAMFER_3_SIZE, CHAMFER_3_SIZE2, e.wrapped, chamfer_3_side_21[0].wrapped)  # the first distance lies on this face
    for e in chamfer_3_edges_22:
        chamfer_3.Add(CHAMFER_3_SIZE, CHAMFER_3_SIZE2, e.wrapped, chamfer_3_side_22[0].wrapped)  # the first distance lies on this face
    for e in chamfer_3_edges_23:
        chamfer_3.Add(CHAMFER_3_SIZE, CHAMFER_3_SIZE2, e.wrapped, chamfer_3_side_23[0].wrapped)  # the first distance lies on this face
    for e in chamfer_3_edges_24:
        chamfer_3.Add(CHAMFER_3_SIZE, CHAMFER_3_SIZE2, e.wrapped, chamfer_3_side_24[0].wrapped)  # the first distance lies on this face
    for e in chamfer_3_edges_25:
        chamfer_3.Add(CHAMFER_3_SIZE, CHAMFER_3_SIZE2, e.wrapped, chamfer_3_side_25[0].wrapped)  # the first distance lies on this face
    for e in chamfer_3_edges_26:
        chamfer_3.Add(CHAMFER_3_SIZE, CHAMFER_3_SIZE2, e.wrapped, chamfer_3_side_26[0].wrapped)  # the first distance lies on this face
    for e in chamfer_3_edges_27:
        chamfer_3.Add(CHAMFER_3_SIZE, CHAMFER_3_SIZE2, e.wrapped, chamfer_3_side_27[0].wrapped)  # the first distance lies on this face
    add(Compound.cast(chamfer_3.Shape()), mode=Mode.REPLACE)

    # 草图6 → 凸台-拉伸4 (add)
    with BuildSketch(Plane.XY.offset(4)):
        with Locations((-24.5, -18.5)):
            Rectangle(SKETCH_6_W, SKETCH_6_H)
    extrude(amount=-EXTRUDE_4_DEPTH)

    # 草图7 → 凸台-拉伸5 (add)
    with BuildSketch(Plane(origin=(0, 0, 0), x_dir=(-1, 0, 0), z_dir=(0, 0, -1))):
        with Locations((30, -11.75)):
            Rectangle(SKETCH_7_W, SKETCH_7_H)
    extrude(amount=EXTRUDE_5_DEPTH)

    # 草图8 → 切除-拉伸3 (cut, through all)
    with BuildSketch(Plane(origin=(0, 0, 0), x_dir=(-1, 0, 0), z_dir=(0, 0, -1))):
        with Locations((-14, -18)):
            Circle(SKETCH_8_R)
        with Locations((24.5, -20.25)):
            Rectangle(SKETCH_8_W, SKETCH_8_H)
    extrude(amount=-CUT_EXTRUDE_3_DEPTH, mode=Mode.SUBTRACT)

    # 草图9 → 切除-拉伸4 (cut)
    with BuildSketch(Plane(origin=(0, 0, -12), x_dir=(-1, 0, 0), z_dir=(0, 0, -1))):
        Polygon((70, -10), (50, -10), (25.452851286, -10), (11.122555598, -10), (-10, -10), (-10, -10.5), (70, -10.5), align=None)
        Polygon((25.452851286, -10), (50, -10), (50, 5.586221175), (25.452851286, 5.586221175), (25.452851286, 0.364824121), (11.122555598, 0.364824121), (11.122555598, -10), align=None)
    extrude(amount=-CUT_EXTRUDE_4_DEPTH, mode=Mode.SUBTRACT)

    # 倒角2
    chamfer_2_edges = [part.edges().sort_by_distance(p)[0] for p in [
        (-30, -13.5, -12),
    ]]
    chamfer_2_side = [part.faces().sort_by_distance(p)[0] for p in [
        (-28.88538206, -13.5, -4.378737542),
    ]]
    chamfer(chamfer_2_edges, length=CHAMFER_2_SIZE, length2=CHAMFER_2_SIZE2, reference=chamfer_2_side[0])

    # 草图10 → 切除-拉伸6 (cut, through all)
    with BuildSketch(Plane.XZ.offset(13.5)):
        with Locations(Location((-60, -8, 0), (0, 0, 270))):
            Circle(SKETCH_10_R)
        with Locations(Location((0, -8, 0), (0, 0, 270))):
            Circle(SKETCH_10_R)
    extrude(amount=-CUT_EXTRUDE_6_DEPTH, mode=Mode.SUBTRACT)

    # 圆角1
    fillet_1_edges = [part.edges().sort_by_distance(p)[0] for p in [
        (-70, 30, 2),
    ]]
    fillet(fillet_1_edges, radius=FILLET_1_R)


solid = part.part
